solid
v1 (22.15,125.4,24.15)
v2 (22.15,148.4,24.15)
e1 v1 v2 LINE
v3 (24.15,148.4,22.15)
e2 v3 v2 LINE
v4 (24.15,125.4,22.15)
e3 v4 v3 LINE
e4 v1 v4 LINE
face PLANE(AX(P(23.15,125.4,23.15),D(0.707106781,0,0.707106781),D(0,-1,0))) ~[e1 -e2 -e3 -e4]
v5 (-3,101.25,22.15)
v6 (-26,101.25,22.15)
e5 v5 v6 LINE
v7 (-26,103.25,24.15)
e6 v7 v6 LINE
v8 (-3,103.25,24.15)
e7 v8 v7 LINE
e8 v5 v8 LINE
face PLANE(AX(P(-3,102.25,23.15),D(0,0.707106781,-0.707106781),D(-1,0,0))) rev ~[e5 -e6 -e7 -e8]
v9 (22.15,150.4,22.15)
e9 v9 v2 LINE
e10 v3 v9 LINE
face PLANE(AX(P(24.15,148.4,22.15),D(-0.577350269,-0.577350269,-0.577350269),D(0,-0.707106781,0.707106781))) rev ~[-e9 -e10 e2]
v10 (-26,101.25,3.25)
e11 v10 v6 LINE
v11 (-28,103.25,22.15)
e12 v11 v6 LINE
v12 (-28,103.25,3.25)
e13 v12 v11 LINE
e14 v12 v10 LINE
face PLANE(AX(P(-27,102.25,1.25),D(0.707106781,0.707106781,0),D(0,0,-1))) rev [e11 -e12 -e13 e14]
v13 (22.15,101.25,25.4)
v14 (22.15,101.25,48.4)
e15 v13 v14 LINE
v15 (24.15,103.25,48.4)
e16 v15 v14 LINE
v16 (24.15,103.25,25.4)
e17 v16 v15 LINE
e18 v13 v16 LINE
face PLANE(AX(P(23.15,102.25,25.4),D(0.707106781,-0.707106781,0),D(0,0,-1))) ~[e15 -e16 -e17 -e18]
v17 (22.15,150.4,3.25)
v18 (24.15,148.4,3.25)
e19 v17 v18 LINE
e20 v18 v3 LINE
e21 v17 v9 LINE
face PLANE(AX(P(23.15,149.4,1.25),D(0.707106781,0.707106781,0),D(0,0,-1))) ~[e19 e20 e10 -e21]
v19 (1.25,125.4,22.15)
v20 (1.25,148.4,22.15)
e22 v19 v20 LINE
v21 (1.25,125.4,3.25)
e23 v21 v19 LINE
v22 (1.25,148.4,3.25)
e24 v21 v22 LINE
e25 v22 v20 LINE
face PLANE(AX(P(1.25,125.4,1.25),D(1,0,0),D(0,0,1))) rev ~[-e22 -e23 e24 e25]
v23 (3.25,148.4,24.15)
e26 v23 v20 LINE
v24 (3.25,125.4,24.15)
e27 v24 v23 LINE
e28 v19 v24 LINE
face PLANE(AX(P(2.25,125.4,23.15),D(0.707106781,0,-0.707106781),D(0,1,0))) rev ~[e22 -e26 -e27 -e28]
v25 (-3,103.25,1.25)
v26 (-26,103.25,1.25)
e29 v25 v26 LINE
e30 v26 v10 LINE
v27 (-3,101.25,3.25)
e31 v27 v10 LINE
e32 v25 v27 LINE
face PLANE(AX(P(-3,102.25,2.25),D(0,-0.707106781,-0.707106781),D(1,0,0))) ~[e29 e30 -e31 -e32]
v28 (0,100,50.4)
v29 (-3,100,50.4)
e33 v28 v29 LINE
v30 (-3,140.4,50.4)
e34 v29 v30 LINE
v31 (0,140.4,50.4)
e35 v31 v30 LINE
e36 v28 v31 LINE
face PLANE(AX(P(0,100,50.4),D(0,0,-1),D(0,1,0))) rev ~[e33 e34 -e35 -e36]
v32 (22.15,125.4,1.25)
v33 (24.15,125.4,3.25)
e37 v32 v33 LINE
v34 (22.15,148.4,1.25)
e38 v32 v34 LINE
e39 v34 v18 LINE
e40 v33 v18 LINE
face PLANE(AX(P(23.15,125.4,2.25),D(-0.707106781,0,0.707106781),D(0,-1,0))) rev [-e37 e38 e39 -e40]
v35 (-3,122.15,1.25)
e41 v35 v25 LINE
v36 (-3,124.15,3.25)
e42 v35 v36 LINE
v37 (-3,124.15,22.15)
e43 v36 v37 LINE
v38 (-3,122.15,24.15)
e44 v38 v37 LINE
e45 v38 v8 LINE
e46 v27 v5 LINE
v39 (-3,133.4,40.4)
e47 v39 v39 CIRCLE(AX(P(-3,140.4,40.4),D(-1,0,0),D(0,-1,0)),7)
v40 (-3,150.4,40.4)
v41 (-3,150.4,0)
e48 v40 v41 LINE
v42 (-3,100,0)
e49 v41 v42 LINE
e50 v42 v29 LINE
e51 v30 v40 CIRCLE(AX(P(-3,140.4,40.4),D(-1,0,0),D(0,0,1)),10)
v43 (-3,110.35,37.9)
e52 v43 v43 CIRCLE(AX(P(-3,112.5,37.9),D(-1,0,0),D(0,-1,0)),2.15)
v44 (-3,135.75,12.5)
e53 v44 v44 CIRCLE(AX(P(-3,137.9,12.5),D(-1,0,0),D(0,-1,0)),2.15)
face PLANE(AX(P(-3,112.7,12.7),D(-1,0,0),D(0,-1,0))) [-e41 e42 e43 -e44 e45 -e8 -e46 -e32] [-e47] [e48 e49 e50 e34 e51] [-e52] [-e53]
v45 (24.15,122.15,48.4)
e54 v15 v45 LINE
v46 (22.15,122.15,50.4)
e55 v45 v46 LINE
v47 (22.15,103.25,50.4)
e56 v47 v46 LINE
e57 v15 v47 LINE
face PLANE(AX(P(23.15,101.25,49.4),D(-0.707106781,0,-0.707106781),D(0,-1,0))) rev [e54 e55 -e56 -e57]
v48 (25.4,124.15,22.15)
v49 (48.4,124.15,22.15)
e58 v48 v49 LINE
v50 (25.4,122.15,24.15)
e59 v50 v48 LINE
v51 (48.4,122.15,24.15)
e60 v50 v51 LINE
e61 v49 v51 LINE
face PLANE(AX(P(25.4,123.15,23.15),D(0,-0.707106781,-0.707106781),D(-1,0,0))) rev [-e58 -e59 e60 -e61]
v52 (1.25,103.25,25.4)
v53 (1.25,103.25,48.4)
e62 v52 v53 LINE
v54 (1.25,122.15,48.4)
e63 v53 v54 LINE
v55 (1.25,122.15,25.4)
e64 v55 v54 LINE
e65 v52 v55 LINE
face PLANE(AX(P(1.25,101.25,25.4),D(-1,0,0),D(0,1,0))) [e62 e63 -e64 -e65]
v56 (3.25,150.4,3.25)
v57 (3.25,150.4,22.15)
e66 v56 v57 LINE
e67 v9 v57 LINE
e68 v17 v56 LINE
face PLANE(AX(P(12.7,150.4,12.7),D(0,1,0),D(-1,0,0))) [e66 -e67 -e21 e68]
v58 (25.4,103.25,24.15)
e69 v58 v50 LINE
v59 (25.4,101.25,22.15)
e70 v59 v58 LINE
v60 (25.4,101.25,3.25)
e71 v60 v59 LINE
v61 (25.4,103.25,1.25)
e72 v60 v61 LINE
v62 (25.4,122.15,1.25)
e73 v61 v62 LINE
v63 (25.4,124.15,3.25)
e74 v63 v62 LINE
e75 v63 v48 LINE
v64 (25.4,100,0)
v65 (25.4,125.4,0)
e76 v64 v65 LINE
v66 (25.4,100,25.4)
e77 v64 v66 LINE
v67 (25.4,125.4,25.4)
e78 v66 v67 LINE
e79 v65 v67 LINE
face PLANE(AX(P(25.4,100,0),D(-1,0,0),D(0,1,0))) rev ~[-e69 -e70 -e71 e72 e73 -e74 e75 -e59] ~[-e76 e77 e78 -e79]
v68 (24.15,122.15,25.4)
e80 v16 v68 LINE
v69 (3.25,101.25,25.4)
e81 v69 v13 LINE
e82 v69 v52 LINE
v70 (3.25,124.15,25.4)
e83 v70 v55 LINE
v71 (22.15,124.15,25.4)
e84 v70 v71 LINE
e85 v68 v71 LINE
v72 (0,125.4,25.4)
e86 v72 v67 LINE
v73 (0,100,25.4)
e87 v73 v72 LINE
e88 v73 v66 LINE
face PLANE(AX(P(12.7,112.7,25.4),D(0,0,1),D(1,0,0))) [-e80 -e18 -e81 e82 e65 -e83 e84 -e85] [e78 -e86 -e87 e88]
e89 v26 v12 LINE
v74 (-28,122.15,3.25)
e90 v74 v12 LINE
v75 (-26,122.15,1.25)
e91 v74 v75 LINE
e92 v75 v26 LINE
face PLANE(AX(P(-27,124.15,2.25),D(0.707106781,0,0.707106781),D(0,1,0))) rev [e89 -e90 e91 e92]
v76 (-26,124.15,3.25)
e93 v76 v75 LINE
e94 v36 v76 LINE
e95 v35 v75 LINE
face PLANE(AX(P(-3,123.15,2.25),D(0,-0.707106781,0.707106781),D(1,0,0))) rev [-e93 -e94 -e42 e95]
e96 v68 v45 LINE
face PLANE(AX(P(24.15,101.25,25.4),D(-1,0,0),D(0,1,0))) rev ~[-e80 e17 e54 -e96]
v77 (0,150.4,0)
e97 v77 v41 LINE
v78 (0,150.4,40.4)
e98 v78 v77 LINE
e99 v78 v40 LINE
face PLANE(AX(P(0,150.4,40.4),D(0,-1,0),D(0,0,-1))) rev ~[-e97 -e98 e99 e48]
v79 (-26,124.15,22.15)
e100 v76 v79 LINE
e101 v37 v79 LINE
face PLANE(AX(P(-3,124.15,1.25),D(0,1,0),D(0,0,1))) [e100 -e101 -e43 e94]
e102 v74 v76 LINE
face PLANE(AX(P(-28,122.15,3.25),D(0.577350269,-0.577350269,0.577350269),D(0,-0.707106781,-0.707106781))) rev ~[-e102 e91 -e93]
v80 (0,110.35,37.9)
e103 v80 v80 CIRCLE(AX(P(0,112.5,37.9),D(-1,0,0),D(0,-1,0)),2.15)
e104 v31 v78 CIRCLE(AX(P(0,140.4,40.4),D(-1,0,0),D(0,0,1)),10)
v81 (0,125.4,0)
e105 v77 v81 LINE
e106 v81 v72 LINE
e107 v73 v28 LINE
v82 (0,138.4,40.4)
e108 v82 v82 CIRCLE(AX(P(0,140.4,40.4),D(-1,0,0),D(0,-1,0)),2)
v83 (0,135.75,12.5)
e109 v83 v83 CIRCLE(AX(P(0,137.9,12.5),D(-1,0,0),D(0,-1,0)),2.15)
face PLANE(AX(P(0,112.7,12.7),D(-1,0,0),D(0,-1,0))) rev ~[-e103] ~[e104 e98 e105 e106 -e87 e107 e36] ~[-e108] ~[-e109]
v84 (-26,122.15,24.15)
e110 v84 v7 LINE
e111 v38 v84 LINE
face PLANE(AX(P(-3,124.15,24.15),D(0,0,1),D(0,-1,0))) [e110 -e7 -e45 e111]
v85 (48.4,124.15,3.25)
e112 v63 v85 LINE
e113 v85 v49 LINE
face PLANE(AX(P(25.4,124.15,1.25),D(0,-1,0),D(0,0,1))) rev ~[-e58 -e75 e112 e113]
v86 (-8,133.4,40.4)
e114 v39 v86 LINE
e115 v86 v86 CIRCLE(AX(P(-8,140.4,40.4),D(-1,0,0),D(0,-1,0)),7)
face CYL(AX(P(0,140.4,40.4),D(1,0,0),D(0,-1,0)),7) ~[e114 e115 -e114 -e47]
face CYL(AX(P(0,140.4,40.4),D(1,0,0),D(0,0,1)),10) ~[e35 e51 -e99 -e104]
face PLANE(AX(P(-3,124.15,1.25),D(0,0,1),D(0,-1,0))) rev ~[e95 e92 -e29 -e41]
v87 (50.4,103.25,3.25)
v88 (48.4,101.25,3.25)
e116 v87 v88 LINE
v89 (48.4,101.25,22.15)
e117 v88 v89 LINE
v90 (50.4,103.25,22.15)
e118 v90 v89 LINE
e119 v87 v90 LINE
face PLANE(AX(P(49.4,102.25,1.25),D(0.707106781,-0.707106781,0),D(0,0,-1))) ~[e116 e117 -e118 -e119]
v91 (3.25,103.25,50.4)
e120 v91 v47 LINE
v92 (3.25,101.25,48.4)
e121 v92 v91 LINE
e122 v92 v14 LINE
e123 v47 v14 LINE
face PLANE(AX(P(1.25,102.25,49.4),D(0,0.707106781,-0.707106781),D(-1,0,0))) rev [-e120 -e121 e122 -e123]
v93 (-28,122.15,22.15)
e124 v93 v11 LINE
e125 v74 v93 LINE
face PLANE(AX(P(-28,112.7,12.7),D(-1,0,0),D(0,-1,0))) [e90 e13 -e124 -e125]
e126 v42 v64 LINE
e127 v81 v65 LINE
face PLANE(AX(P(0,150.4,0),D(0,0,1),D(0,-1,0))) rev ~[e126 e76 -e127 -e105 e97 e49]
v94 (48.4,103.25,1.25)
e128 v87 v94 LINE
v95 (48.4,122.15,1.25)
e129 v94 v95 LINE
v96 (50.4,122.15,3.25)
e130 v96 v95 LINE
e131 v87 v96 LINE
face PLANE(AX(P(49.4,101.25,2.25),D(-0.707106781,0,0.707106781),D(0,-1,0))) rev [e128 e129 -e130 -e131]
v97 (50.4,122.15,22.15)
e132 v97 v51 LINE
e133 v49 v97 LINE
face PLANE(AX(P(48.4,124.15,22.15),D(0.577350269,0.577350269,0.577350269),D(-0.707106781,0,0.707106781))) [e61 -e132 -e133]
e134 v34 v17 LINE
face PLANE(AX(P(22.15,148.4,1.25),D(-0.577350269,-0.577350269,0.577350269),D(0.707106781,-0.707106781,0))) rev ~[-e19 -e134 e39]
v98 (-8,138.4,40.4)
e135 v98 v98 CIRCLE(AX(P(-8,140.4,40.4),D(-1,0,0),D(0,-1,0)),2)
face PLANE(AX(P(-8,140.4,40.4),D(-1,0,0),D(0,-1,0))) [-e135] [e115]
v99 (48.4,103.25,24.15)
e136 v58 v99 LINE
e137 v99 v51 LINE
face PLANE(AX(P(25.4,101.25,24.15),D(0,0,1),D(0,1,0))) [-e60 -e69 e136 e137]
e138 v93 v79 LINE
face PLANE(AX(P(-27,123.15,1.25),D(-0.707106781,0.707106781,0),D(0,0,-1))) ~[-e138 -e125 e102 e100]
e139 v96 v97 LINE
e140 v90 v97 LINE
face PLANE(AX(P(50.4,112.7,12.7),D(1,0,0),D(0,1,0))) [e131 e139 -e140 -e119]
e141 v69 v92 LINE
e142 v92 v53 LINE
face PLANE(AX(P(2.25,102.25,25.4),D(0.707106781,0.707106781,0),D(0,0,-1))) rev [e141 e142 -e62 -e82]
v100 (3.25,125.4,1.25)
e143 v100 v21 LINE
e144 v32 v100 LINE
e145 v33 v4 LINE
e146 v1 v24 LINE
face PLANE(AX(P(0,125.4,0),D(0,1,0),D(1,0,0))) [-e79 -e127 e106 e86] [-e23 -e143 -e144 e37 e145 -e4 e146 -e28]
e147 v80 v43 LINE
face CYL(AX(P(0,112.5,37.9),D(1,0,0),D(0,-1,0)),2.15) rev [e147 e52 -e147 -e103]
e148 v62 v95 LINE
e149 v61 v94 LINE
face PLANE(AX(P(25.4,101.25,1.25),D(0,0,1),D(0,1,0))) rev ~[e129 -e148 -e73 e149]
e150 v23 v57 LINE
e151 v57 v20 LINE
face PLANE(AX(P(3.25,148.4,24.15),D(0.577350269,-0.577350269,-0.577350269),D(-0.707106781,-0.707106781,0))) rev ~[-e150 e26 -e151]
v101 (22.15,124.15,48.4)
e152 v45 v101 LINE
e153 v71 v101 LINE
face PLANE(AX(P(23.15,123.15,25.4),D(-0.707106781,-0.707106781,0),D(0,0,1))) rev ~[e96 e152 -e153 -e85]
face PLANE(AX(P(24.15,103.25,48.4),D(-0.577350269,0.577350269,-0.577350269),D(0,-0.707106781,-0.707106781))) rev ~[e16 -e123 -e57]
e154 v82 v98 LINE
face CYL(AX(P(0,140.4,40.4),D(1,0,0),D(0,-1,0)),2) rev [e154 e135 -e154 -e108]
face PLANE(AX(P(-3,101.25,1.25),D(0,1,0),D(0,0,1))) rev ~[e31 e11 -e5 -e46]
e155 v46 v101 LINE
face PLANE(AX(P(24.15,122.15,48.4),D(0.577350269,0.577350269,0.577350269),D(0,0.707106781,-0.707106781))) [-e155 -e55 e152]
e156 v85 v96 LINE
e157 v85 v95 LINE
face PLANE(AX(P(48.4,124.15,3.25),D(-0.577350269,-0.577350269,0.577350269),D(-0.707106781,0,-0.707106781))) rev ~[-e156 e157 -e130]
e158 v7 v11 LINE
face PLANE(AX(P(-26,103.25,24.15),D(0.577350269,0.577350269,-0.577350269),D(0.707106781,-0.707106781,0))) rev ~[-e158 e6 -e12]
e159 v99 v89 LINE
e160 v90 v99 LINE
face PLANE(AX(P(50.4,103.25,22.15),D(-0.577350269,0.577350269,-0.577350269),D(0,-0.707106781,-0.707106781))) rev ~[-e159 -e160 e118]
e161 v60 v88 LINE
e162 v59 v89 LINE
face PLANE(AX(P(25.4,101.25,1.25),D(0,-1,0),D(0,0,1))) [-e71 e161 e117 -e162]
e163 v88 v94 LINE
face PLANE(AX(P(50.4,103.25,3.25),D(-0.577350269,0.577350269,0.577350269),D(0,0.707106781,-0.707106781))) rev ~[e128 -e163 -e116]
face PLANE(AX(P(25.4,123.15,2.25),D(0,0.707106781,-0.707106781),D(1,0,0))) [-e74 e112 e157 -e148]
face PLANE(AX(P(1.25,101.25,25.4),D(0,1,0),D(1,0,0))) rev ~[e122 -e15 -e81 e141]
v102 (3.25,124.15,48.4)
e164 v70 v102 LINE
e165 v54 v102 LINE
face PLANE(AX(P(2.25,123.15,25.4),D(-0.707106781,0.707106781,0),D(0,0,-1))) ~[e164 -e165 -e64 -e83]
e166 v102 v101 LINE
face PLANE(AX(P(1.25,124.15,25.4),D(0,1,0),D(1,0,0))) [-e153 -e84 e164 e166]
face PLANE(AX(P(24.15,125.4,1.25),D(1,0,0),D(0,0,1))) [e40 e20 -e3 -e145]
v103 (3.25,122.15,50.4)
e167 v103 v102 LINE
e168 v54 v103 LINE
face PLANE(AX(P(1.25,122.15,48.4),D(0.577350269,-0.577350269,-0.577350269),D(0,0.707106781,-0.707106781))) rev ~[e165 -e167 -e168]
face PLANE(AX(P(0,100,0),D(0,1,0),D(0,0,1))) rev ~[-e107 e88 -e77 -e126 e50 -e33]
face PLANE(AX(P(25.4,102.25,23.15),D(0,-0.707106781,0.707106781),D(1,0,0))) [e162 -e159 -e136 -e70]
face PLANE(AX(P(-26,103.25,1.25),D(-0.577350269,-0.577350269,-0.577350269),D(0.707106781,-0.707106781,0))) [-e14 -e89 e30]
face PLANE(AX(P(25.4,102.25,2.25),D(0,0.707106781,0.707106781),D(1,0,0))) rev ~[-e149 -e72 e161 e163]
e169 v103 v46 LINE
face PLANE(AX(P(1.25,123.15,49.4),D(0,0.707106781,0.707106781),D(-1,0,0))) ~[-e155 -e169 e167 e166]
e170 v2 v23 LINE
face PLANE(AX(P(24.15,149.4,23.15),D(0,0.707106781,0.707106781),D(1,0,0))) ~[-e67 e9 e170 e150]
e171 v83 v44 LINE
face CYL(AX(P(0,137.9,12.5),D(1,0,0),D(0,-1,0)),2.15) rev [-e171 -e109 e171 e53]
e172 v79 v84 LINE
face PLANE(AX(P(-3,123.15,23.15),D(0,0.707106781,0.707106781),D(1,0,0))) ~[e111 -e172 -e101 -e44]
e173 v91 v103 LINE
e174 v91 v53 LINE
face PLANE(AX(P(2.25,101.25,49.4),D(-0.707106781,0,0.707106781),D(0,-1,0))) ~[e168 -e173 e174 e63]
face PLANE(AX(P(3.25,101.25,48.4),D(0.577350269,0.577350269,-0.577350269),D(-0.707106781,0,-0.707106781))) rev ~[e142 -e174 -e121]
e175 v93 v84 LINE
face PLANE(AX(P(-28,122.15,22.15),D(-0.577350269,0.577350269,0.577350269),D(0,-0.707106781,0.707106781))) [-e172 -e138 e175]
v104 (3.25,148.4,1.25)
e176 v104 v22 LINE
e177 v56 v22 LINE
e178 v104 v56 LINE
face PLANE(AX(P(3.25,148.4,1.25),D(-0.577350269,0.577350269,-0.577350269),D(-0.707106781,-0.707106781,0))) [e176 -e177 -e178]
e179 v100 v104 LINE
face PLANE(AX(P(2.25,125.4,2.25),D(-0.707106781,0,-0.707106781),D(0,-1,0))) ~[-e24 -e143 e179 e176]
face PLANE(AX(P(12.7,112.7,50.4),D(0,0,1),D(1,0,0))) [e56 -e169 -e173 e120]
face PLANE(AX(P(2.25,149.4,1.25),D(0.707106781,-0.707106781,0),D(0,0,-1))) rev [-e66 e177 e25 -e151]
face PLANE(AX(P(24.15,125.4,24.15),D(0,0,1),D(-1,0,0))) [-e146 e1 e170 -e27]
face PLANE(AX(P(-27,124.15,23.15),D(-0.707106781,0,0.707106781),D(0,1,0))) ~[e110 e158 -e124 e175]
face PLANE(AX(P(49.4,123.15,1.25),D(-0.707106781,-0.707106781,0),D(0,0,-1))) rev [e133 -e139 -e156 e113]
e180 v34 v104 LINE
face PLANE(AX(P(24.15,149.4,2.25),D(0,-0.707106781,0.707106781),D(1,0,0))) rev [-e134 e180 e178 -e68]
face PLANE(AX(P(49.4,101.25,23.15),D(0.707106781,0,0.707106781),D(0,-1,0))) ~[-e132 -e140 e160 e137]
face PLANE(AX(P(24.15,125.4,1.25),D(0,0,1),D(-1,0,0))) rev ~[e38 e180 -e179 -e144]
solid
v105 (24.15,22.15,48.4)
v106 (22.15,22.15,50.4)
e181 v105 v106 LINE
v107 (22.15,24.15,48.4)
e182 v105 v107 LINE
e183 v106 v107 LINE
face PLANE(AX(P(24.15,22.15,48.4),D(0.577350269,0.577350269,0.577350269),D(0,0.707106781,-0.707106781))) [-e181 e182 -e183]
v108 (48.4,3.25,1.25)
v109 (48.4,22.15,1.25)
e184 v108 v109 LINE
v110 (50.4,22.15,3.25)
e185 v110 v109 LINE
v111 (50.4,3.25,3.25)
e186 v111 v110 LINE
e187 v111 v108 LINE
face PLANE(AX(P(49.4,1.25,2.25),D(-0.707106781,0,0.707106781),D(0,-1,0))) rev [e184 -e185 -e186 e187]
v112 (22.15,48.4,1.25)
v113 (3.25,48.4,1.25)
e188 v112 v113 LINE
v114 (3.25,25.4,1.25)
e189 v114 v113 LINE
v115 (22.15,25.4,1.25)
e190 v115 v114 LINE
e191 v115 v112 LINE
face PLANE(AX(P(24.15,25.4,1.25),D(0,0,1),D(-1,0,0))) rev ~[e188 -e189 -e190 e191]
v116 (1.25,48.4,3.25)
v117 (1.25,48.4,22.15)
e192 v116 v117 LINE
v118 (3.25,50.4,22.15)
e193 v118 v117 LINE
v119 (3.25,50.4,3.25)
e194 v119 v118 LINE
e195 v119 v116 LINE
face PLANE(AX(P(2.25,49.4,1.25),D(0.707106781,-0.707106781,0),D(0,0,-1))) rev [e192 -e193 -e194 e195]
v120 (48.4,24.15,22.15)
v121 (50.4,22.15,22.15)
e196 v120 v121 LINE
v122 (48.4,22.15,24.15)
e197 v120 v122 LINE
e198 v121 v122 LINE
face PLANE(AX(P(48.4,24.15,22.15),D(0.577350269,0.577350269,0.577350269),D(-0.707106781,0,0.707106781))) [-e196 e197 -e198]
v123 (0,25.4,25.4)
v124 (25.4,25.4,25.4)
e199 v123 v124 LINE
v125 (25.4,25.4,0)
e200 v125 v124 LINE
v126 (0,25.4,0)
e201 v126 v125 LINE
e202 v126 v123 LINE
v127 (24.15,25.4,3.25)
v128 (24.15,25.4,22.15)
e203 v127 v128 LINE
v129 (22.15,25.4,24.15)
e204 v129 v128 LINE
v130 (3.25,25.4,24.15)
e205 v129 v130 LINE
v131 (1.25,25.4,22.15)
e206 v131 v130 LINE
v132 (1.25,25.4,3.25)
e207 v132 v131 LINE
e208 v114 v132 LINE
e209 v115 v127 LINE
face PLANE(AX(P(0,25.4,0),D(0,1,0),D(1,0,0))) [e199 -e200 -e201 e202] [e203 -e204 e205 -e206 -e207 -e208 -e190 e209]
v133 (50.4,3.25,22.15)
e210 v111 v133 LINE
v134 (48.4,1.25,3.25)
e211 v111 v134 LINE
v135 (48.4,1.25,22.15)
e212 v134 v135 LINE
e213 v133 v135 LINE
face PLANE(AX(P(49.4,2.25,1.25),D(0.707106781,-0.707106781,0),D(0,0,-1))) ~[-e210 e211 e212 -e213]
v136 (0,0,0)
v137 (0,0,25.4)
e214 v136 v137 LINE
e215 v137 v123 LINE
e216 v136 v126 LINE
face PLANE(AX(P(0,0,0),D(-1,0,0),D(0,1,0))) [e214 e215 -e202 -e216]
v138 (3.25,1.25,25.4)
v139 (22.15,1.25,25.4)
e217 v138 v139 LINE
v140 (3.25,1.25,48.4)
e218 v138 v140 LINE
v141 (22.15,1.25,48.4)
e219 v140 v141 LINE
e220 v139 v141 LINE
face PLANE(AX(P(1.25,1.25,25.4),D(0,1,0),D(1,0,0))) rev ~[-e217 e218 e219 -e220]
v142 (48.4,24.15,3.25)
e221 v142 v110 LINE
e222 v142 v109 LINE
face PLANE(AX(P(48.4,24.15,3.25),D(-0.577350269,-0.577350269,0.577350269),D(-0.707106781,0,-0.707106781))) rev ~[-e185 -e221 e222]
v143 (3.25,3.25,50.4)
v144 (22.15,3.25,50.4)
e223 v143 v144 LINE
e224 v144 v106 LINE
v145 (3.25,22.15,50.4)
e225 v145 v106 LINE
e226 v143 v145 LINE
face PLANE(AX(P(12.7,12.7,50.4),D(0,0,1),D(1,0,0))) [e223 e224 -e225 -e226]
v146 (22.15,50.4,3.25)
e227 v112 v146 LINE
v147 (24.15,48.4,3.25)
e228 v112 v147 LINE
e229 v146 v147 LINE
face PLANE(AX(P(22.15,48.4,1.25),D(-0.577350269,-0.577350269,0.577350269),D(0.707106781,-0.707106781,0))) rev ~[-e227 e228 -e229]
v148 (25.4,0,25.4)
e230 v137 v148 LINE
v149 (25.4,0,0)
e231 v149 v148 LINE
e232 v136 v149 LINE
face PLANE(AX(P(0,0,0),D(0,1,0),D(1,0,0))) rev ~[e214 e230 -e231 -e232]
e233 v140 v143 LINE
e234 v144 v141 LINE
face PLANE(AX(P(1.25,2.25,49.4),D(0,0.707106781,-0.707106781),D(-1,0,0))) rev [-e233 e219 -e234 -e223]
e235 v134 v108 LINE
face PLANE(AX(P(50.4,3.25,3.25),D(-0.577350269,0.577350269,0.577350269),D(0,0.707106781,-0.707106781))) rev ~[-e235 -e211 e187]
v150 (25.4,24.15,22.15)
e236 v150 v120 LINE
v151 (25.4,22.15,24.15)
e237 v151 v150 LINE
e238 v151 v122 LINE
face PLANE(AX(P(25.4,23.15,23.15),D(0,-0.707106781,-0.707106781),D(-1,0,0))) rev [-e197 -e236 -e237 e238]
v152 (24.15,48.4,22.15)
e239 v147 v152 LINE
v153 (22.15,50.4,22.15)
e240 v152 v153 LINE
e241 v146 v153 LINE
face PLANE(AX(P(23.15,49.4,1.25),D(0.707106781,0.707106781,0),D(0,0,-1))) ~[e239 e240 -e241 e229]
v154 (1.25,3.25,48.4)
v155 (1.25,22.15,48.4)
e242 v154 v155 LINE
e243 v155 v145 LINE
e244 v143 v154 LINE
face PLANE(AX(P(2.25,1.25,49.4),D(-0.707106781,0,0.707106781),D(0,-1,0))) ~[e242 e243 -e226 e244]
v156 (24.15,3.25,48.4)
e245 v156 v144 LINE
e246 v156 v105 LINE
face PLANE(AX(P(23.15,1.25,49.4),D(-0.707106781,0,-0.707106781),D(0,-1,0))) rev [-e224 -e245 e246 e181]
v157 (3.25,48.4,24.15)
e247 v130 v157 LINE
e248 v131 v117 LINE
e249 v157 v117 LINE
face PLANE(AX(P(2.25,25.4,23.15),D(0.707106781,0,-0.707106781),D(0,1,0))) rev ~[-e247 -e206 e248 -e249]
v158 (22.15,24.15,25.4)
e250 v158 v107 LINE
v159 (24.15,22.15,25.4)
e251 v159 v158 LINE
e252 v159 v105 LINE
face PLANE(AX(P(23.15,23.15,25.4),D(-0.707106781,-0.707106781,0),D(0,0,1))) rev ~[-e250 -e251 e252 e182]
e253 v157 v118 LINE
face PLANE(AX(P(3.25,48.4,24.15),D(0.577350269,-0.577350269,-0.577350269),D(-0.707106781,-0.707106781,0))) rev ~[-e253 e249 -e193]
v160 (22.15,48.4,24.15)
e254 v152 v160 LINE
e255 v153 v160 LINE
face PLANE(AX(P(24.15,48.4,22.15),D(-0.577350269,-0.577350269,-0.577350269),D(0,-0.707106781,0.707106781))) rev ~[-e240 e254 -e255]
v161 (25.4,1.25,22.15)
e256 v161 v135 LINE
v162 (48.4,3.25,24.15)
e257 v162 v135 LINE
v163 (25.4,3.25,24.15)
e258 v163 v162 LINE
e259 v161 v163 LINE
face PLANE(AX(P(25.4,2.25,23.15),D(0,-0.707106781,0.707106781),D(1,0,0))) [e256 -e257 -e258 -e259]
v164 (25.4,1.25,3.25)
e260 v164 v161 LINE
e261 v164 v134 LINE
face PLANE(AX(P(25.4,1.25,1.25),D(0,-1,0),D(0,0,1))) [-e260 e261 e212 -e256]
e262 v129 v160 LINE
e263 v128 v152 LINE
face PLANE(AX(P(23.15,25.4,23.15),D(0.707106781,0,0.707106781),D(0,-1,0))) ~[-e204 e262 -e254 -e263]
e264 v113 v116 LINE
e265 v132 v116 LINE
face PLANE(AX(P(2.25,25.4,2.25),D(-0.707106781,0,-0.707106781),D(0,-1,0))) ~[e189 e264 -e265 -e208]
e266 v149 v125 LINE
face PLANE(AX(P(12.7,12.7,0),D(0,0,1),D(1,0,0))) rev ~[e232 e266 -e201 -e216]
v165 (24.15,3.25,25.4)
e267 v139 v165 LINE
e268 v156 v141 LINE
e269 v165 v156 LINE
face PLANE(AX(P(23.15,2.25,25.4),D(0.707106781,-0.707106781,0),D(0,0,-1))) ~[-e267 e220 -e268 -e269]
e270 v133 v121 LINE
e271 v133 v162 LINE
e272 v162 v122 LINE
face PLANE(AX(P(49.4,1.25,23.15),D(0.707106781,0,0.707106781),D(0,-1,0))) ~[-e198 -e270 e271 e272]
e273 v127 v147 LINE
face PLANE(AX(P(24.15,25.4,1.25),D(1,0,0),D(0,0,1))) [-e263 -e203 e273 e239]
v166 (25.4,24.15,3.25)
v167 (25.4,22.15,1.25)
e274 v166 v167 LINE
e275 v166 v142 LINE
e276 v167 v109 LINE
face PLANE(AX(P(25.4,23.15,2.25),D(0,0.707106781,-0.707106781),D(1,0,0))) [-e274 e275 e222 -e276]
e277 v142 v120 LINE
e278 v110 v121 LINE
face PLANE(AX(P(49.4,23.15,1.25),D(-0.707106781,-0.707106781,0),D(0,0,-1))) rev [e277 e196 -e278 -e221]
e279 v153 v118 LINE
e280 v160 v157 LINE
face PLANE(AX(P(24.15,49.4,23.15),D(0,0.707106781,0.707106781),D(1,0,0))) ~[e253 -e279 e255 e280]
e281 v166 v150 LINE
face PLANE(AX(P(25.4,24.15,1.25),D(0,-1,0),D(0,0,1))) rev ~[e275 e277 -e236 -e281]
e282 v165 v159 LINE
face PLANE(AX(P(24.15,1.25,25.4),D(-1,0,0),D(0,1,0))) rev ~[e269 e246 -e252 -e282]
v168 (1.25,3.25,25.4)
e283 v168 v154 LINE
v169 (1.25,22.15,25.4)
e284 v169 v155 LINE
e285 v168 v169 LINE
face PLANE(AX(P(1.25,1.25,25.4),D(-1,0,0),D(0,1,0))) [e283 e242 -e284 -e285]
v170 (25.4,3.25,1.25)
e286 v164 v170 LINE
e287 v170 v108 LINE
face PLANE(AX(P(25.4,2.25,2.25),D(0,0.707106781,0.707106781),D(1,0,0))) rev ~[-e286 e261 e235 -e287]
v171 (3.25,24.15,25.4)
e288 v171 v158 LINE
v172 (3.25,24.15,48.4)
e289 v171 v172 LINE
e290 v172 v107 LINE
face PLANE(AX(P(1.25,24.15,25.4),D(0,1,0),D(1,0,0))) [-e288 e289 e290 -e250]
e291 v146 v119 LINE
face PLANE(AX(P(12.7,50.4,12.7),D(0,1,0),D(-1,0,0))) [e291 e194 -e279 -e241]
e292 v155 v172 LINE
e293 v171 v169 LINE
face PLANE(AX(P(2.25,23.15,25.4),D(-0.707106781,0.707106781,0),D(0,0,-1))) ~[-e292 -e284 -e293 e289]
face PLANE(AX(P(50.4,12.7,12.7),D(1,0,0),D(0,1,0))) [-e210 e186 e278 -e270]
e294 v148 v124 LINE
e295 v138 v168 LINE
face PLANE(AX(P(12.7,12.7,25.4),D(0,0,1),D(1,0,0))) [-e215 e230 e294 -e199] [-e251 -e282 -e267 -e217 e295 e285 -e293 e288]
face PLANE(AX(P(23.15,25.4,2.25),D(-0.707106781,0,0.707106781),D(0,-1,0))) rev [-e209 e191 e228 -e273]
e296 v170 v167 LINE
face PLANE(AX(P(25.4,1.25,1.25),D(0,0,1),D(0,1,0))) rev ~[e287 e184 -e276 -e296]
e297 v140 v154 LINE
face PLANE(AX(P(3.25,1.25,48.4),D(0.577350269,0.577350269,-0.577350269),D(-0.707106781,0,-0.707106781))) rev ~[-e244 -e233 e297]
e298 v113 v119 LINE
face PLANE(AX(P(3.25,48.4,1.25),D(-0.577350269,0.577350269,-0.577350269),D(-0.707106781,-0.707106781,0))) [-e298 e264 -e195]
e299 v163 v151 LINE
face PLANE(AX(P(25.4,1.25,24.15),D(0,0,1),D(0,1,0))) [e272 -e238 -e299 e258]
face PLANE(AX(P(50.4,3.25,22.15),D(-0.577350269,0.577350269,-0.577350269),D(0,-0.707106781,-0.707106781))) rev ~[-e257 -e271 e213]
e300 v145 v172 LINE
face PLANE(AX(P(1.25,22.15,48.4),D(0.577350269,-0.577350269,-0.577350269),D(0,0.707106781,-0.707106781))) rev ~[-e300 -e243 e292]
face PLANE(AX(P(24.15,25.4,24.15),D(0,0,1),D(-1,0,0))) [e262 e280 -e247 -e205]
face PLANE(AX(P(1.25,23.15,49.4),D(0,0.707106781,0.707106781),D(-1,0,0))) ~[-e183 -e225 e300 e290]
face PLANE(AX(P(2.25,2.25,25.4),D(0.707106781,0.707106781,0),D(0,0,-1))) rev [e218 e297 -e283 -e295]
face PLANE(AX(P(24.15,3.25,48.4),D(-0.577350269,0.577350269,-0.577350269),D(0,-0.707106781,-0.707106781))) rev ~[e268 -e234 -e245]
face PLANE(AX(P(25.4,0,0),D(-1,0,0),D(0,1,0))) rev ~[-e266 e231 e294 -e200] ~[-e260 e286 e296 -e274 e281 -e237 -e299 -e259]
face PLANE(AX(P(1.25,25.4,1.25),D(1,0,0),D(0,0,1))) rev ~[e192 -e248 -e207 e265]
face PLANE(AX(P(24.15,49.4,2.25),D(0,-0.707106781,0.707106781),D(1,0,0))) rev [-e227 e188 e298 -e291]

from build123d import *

# Parameters (mm, degrees)
F0_W      = 25.4
F0_H      = 25.4
F1_DEPTH  = 25.4
F2_W      = 22.9
F2_H      = 22.9
F3_DEPTH  = 25
F4_W      = 22.9
F4_H      = 22.9
F5_DEPTH  = 25
F6_W      = 22.9
F6_H      = 22.9
F7_DEPTH  = 25
F8_SIZE   = 2
F12_W     = 25.4
F12_H     = 25.4
F12_R     = 2.15
F12_R_2   = 7
F13_DEPTH = 3
F12_R_3   = 2
F14_DEPTH = 8
F15_W     = 22.9
F15_H     = 22.9
F16_DEPTH = 25
F17_SIZE  = 2


with BuildPart() as f1:
    # F0 (on Top) → F1 (new body)
    with BuildSketch(Plane.XY):
        with Locations((12.7, 12.7)):
            Rectangle(F0_W, F0_H)
    extrude(amount=F1_DEPTH)

    # F2 (on face) → F3 (join)
    with BuildSketch(Plane.XY.offset(25.4)):
        with Locations((12.7, 12.7)):
            Rectangle(F2_W, F2_H)
    extrude(amount=F3_DEPTH)

    # F4 (on face) → F5 (join)
    with BuildSketch(Plane.YZ.offset(25.4)):
        with Locations((12.7, 12.7)):
            Rectangle(F4_W, F4_H)
    extrude(amount=F5_DEPTH)

    # F6 (on face) → F7 (join)
    with BuildSketch(Plane(origin=(0, 25.4, 0), x_dir=(-1, 0, 0), z_dir=(0, 1, 0))):
        with Locations((-12.7, 12.7)):
            Rectangle(F6_W, F6_H)
    extrude(amount=F7_DEPTH)

    # F8
    f8_edges = [f1.edges().sort_by_distance(p)[0] for p in [
        (12.7, 24.15, 50.4),
        (1.25, 12.7, 50.4),
        (12.7, 1.25, 50.4),
        (24.15, 12.7, 50.4),
        (1.25, 1.25, 37.9),
        (24.15, 1.25, 37.9),
        (1.25, 24.15, 37.9),
        (24.15, 24.15, 37.9),
        (37.9, 1.25, 1.25),
        (37.9, 1.25, 24.15),
        (50.4, 12.7, 24.15),
        (50.4, 1.25, 12.7),
        (50.4, 12.7, 1.25),
        (50.4, 24.15, 12.7),
        (37.9, 24.15, 1.25),
        (37.9, 24.15, 24.15),
        (1.25, 50.4, 12.7),
        (12.7, 50.4, 24.15),
        (24.15, 50.4, 12.7),
        (12.7, 50.4, 1.25),
        (24.15, 37.9, 24.15),
        (1.25, 37.9, 24.15),
        (24.15, 37.9, 1.25),
        (1.25, 37.9, 1.25),
    ]]
    chamfer(f8_edges, length=F8_SIZE)


with BuildPart() as f9_1:
    # F9: copy of F1
    add(f1.part.moved(Location((150, 0, 0))))


with BuildPart() as f11_1:
    # F11: copy of F1
    add(f1.part.moved(Location((0, 100, 0))))

    # F12 (on face) → F13 (join)
    with BuildSketch(Plane(origin=(0, 0, 0), x_dir=(0, -1, 0), z_dir=(-1, 0, 0))):
        with Locations((-112.7, 12.7)):
            Rectangle(F12_W, F12_H)
        with BuildLine():
            Line((-150.4, 0), (-125.4, 0))
            Line((-125.4, 0), (-125.4, 25.4))
            Line((-125.4, 25.4), (-100, 25.4))
            Line((-100, 25.4), (-100, 50.4))
            Line((-100, 50.4), (-140.4, 50.4))
            ThreePointArc((-140.4, 50.4), (-147.4710678119, 47.4710678119), (-150.4, 40.4))
            Line((-150.4, 40.4), (-150.4, 0))
        make_face()
        with Locations((-137.9, 12.5)):
            Circle(F12_R, mode=Mode.SUBTRACT)
        with Locations((-140.4, 40.4)):
            Circle(F12_R_2, mode=Mode.SUBTRACT)
        with Locations((-112.5, 37.9)):
            Circle(F12_R, mode=Mode.SUBTRACT)
    extrude(amount=F13_DEPTH)

    # F12 (on face) → F14 (join)
    with BuildSketch(Plane(origin=(0, 0, 0), x_dir=(0, -1, 0), z_dir=(-1, 0, 0))):
        with Locations((-140.4, 40.4)):
            Circle(F12_R_2)
        with Locations((-140.4, 40.4)):
            Circle(F12_R_3, mode=Mode.SUBTRACT)
    extrude(amount=F14_DEPTH)

    # F15 (on face) → F16 (join)
    with BuildSketch(Plane(origin=(-3, 0, 0), x_dir=(0, -1, 0), z_dir=(-1, 0, 0))):
        with Locations((-112.7, 12.7)):
            Rectangle(F15_W, F15_H)
    extrude(amount=F16_DEPTH)

    # F17
    f17_edges = [f11_1.edges().sort_by_distance(p)[0] for p in [
        (-15.5, 124.15, 24.15),
        (-15.5, 124.15, 1.25),
        (-28, 124.15, 12.7),
        (-28, 101.25, 12.7),
        (-28, 112.7, 24.15),
        (-28, 112.7, 1.25),
        (-15.5, 101.25, 24.15),
        (-15.5, 101.25, 1.25),
    ]]
    chamfer(f17_edges, length=F17_SIZE)


solid = Compound([f1.part, f11_1.part])
